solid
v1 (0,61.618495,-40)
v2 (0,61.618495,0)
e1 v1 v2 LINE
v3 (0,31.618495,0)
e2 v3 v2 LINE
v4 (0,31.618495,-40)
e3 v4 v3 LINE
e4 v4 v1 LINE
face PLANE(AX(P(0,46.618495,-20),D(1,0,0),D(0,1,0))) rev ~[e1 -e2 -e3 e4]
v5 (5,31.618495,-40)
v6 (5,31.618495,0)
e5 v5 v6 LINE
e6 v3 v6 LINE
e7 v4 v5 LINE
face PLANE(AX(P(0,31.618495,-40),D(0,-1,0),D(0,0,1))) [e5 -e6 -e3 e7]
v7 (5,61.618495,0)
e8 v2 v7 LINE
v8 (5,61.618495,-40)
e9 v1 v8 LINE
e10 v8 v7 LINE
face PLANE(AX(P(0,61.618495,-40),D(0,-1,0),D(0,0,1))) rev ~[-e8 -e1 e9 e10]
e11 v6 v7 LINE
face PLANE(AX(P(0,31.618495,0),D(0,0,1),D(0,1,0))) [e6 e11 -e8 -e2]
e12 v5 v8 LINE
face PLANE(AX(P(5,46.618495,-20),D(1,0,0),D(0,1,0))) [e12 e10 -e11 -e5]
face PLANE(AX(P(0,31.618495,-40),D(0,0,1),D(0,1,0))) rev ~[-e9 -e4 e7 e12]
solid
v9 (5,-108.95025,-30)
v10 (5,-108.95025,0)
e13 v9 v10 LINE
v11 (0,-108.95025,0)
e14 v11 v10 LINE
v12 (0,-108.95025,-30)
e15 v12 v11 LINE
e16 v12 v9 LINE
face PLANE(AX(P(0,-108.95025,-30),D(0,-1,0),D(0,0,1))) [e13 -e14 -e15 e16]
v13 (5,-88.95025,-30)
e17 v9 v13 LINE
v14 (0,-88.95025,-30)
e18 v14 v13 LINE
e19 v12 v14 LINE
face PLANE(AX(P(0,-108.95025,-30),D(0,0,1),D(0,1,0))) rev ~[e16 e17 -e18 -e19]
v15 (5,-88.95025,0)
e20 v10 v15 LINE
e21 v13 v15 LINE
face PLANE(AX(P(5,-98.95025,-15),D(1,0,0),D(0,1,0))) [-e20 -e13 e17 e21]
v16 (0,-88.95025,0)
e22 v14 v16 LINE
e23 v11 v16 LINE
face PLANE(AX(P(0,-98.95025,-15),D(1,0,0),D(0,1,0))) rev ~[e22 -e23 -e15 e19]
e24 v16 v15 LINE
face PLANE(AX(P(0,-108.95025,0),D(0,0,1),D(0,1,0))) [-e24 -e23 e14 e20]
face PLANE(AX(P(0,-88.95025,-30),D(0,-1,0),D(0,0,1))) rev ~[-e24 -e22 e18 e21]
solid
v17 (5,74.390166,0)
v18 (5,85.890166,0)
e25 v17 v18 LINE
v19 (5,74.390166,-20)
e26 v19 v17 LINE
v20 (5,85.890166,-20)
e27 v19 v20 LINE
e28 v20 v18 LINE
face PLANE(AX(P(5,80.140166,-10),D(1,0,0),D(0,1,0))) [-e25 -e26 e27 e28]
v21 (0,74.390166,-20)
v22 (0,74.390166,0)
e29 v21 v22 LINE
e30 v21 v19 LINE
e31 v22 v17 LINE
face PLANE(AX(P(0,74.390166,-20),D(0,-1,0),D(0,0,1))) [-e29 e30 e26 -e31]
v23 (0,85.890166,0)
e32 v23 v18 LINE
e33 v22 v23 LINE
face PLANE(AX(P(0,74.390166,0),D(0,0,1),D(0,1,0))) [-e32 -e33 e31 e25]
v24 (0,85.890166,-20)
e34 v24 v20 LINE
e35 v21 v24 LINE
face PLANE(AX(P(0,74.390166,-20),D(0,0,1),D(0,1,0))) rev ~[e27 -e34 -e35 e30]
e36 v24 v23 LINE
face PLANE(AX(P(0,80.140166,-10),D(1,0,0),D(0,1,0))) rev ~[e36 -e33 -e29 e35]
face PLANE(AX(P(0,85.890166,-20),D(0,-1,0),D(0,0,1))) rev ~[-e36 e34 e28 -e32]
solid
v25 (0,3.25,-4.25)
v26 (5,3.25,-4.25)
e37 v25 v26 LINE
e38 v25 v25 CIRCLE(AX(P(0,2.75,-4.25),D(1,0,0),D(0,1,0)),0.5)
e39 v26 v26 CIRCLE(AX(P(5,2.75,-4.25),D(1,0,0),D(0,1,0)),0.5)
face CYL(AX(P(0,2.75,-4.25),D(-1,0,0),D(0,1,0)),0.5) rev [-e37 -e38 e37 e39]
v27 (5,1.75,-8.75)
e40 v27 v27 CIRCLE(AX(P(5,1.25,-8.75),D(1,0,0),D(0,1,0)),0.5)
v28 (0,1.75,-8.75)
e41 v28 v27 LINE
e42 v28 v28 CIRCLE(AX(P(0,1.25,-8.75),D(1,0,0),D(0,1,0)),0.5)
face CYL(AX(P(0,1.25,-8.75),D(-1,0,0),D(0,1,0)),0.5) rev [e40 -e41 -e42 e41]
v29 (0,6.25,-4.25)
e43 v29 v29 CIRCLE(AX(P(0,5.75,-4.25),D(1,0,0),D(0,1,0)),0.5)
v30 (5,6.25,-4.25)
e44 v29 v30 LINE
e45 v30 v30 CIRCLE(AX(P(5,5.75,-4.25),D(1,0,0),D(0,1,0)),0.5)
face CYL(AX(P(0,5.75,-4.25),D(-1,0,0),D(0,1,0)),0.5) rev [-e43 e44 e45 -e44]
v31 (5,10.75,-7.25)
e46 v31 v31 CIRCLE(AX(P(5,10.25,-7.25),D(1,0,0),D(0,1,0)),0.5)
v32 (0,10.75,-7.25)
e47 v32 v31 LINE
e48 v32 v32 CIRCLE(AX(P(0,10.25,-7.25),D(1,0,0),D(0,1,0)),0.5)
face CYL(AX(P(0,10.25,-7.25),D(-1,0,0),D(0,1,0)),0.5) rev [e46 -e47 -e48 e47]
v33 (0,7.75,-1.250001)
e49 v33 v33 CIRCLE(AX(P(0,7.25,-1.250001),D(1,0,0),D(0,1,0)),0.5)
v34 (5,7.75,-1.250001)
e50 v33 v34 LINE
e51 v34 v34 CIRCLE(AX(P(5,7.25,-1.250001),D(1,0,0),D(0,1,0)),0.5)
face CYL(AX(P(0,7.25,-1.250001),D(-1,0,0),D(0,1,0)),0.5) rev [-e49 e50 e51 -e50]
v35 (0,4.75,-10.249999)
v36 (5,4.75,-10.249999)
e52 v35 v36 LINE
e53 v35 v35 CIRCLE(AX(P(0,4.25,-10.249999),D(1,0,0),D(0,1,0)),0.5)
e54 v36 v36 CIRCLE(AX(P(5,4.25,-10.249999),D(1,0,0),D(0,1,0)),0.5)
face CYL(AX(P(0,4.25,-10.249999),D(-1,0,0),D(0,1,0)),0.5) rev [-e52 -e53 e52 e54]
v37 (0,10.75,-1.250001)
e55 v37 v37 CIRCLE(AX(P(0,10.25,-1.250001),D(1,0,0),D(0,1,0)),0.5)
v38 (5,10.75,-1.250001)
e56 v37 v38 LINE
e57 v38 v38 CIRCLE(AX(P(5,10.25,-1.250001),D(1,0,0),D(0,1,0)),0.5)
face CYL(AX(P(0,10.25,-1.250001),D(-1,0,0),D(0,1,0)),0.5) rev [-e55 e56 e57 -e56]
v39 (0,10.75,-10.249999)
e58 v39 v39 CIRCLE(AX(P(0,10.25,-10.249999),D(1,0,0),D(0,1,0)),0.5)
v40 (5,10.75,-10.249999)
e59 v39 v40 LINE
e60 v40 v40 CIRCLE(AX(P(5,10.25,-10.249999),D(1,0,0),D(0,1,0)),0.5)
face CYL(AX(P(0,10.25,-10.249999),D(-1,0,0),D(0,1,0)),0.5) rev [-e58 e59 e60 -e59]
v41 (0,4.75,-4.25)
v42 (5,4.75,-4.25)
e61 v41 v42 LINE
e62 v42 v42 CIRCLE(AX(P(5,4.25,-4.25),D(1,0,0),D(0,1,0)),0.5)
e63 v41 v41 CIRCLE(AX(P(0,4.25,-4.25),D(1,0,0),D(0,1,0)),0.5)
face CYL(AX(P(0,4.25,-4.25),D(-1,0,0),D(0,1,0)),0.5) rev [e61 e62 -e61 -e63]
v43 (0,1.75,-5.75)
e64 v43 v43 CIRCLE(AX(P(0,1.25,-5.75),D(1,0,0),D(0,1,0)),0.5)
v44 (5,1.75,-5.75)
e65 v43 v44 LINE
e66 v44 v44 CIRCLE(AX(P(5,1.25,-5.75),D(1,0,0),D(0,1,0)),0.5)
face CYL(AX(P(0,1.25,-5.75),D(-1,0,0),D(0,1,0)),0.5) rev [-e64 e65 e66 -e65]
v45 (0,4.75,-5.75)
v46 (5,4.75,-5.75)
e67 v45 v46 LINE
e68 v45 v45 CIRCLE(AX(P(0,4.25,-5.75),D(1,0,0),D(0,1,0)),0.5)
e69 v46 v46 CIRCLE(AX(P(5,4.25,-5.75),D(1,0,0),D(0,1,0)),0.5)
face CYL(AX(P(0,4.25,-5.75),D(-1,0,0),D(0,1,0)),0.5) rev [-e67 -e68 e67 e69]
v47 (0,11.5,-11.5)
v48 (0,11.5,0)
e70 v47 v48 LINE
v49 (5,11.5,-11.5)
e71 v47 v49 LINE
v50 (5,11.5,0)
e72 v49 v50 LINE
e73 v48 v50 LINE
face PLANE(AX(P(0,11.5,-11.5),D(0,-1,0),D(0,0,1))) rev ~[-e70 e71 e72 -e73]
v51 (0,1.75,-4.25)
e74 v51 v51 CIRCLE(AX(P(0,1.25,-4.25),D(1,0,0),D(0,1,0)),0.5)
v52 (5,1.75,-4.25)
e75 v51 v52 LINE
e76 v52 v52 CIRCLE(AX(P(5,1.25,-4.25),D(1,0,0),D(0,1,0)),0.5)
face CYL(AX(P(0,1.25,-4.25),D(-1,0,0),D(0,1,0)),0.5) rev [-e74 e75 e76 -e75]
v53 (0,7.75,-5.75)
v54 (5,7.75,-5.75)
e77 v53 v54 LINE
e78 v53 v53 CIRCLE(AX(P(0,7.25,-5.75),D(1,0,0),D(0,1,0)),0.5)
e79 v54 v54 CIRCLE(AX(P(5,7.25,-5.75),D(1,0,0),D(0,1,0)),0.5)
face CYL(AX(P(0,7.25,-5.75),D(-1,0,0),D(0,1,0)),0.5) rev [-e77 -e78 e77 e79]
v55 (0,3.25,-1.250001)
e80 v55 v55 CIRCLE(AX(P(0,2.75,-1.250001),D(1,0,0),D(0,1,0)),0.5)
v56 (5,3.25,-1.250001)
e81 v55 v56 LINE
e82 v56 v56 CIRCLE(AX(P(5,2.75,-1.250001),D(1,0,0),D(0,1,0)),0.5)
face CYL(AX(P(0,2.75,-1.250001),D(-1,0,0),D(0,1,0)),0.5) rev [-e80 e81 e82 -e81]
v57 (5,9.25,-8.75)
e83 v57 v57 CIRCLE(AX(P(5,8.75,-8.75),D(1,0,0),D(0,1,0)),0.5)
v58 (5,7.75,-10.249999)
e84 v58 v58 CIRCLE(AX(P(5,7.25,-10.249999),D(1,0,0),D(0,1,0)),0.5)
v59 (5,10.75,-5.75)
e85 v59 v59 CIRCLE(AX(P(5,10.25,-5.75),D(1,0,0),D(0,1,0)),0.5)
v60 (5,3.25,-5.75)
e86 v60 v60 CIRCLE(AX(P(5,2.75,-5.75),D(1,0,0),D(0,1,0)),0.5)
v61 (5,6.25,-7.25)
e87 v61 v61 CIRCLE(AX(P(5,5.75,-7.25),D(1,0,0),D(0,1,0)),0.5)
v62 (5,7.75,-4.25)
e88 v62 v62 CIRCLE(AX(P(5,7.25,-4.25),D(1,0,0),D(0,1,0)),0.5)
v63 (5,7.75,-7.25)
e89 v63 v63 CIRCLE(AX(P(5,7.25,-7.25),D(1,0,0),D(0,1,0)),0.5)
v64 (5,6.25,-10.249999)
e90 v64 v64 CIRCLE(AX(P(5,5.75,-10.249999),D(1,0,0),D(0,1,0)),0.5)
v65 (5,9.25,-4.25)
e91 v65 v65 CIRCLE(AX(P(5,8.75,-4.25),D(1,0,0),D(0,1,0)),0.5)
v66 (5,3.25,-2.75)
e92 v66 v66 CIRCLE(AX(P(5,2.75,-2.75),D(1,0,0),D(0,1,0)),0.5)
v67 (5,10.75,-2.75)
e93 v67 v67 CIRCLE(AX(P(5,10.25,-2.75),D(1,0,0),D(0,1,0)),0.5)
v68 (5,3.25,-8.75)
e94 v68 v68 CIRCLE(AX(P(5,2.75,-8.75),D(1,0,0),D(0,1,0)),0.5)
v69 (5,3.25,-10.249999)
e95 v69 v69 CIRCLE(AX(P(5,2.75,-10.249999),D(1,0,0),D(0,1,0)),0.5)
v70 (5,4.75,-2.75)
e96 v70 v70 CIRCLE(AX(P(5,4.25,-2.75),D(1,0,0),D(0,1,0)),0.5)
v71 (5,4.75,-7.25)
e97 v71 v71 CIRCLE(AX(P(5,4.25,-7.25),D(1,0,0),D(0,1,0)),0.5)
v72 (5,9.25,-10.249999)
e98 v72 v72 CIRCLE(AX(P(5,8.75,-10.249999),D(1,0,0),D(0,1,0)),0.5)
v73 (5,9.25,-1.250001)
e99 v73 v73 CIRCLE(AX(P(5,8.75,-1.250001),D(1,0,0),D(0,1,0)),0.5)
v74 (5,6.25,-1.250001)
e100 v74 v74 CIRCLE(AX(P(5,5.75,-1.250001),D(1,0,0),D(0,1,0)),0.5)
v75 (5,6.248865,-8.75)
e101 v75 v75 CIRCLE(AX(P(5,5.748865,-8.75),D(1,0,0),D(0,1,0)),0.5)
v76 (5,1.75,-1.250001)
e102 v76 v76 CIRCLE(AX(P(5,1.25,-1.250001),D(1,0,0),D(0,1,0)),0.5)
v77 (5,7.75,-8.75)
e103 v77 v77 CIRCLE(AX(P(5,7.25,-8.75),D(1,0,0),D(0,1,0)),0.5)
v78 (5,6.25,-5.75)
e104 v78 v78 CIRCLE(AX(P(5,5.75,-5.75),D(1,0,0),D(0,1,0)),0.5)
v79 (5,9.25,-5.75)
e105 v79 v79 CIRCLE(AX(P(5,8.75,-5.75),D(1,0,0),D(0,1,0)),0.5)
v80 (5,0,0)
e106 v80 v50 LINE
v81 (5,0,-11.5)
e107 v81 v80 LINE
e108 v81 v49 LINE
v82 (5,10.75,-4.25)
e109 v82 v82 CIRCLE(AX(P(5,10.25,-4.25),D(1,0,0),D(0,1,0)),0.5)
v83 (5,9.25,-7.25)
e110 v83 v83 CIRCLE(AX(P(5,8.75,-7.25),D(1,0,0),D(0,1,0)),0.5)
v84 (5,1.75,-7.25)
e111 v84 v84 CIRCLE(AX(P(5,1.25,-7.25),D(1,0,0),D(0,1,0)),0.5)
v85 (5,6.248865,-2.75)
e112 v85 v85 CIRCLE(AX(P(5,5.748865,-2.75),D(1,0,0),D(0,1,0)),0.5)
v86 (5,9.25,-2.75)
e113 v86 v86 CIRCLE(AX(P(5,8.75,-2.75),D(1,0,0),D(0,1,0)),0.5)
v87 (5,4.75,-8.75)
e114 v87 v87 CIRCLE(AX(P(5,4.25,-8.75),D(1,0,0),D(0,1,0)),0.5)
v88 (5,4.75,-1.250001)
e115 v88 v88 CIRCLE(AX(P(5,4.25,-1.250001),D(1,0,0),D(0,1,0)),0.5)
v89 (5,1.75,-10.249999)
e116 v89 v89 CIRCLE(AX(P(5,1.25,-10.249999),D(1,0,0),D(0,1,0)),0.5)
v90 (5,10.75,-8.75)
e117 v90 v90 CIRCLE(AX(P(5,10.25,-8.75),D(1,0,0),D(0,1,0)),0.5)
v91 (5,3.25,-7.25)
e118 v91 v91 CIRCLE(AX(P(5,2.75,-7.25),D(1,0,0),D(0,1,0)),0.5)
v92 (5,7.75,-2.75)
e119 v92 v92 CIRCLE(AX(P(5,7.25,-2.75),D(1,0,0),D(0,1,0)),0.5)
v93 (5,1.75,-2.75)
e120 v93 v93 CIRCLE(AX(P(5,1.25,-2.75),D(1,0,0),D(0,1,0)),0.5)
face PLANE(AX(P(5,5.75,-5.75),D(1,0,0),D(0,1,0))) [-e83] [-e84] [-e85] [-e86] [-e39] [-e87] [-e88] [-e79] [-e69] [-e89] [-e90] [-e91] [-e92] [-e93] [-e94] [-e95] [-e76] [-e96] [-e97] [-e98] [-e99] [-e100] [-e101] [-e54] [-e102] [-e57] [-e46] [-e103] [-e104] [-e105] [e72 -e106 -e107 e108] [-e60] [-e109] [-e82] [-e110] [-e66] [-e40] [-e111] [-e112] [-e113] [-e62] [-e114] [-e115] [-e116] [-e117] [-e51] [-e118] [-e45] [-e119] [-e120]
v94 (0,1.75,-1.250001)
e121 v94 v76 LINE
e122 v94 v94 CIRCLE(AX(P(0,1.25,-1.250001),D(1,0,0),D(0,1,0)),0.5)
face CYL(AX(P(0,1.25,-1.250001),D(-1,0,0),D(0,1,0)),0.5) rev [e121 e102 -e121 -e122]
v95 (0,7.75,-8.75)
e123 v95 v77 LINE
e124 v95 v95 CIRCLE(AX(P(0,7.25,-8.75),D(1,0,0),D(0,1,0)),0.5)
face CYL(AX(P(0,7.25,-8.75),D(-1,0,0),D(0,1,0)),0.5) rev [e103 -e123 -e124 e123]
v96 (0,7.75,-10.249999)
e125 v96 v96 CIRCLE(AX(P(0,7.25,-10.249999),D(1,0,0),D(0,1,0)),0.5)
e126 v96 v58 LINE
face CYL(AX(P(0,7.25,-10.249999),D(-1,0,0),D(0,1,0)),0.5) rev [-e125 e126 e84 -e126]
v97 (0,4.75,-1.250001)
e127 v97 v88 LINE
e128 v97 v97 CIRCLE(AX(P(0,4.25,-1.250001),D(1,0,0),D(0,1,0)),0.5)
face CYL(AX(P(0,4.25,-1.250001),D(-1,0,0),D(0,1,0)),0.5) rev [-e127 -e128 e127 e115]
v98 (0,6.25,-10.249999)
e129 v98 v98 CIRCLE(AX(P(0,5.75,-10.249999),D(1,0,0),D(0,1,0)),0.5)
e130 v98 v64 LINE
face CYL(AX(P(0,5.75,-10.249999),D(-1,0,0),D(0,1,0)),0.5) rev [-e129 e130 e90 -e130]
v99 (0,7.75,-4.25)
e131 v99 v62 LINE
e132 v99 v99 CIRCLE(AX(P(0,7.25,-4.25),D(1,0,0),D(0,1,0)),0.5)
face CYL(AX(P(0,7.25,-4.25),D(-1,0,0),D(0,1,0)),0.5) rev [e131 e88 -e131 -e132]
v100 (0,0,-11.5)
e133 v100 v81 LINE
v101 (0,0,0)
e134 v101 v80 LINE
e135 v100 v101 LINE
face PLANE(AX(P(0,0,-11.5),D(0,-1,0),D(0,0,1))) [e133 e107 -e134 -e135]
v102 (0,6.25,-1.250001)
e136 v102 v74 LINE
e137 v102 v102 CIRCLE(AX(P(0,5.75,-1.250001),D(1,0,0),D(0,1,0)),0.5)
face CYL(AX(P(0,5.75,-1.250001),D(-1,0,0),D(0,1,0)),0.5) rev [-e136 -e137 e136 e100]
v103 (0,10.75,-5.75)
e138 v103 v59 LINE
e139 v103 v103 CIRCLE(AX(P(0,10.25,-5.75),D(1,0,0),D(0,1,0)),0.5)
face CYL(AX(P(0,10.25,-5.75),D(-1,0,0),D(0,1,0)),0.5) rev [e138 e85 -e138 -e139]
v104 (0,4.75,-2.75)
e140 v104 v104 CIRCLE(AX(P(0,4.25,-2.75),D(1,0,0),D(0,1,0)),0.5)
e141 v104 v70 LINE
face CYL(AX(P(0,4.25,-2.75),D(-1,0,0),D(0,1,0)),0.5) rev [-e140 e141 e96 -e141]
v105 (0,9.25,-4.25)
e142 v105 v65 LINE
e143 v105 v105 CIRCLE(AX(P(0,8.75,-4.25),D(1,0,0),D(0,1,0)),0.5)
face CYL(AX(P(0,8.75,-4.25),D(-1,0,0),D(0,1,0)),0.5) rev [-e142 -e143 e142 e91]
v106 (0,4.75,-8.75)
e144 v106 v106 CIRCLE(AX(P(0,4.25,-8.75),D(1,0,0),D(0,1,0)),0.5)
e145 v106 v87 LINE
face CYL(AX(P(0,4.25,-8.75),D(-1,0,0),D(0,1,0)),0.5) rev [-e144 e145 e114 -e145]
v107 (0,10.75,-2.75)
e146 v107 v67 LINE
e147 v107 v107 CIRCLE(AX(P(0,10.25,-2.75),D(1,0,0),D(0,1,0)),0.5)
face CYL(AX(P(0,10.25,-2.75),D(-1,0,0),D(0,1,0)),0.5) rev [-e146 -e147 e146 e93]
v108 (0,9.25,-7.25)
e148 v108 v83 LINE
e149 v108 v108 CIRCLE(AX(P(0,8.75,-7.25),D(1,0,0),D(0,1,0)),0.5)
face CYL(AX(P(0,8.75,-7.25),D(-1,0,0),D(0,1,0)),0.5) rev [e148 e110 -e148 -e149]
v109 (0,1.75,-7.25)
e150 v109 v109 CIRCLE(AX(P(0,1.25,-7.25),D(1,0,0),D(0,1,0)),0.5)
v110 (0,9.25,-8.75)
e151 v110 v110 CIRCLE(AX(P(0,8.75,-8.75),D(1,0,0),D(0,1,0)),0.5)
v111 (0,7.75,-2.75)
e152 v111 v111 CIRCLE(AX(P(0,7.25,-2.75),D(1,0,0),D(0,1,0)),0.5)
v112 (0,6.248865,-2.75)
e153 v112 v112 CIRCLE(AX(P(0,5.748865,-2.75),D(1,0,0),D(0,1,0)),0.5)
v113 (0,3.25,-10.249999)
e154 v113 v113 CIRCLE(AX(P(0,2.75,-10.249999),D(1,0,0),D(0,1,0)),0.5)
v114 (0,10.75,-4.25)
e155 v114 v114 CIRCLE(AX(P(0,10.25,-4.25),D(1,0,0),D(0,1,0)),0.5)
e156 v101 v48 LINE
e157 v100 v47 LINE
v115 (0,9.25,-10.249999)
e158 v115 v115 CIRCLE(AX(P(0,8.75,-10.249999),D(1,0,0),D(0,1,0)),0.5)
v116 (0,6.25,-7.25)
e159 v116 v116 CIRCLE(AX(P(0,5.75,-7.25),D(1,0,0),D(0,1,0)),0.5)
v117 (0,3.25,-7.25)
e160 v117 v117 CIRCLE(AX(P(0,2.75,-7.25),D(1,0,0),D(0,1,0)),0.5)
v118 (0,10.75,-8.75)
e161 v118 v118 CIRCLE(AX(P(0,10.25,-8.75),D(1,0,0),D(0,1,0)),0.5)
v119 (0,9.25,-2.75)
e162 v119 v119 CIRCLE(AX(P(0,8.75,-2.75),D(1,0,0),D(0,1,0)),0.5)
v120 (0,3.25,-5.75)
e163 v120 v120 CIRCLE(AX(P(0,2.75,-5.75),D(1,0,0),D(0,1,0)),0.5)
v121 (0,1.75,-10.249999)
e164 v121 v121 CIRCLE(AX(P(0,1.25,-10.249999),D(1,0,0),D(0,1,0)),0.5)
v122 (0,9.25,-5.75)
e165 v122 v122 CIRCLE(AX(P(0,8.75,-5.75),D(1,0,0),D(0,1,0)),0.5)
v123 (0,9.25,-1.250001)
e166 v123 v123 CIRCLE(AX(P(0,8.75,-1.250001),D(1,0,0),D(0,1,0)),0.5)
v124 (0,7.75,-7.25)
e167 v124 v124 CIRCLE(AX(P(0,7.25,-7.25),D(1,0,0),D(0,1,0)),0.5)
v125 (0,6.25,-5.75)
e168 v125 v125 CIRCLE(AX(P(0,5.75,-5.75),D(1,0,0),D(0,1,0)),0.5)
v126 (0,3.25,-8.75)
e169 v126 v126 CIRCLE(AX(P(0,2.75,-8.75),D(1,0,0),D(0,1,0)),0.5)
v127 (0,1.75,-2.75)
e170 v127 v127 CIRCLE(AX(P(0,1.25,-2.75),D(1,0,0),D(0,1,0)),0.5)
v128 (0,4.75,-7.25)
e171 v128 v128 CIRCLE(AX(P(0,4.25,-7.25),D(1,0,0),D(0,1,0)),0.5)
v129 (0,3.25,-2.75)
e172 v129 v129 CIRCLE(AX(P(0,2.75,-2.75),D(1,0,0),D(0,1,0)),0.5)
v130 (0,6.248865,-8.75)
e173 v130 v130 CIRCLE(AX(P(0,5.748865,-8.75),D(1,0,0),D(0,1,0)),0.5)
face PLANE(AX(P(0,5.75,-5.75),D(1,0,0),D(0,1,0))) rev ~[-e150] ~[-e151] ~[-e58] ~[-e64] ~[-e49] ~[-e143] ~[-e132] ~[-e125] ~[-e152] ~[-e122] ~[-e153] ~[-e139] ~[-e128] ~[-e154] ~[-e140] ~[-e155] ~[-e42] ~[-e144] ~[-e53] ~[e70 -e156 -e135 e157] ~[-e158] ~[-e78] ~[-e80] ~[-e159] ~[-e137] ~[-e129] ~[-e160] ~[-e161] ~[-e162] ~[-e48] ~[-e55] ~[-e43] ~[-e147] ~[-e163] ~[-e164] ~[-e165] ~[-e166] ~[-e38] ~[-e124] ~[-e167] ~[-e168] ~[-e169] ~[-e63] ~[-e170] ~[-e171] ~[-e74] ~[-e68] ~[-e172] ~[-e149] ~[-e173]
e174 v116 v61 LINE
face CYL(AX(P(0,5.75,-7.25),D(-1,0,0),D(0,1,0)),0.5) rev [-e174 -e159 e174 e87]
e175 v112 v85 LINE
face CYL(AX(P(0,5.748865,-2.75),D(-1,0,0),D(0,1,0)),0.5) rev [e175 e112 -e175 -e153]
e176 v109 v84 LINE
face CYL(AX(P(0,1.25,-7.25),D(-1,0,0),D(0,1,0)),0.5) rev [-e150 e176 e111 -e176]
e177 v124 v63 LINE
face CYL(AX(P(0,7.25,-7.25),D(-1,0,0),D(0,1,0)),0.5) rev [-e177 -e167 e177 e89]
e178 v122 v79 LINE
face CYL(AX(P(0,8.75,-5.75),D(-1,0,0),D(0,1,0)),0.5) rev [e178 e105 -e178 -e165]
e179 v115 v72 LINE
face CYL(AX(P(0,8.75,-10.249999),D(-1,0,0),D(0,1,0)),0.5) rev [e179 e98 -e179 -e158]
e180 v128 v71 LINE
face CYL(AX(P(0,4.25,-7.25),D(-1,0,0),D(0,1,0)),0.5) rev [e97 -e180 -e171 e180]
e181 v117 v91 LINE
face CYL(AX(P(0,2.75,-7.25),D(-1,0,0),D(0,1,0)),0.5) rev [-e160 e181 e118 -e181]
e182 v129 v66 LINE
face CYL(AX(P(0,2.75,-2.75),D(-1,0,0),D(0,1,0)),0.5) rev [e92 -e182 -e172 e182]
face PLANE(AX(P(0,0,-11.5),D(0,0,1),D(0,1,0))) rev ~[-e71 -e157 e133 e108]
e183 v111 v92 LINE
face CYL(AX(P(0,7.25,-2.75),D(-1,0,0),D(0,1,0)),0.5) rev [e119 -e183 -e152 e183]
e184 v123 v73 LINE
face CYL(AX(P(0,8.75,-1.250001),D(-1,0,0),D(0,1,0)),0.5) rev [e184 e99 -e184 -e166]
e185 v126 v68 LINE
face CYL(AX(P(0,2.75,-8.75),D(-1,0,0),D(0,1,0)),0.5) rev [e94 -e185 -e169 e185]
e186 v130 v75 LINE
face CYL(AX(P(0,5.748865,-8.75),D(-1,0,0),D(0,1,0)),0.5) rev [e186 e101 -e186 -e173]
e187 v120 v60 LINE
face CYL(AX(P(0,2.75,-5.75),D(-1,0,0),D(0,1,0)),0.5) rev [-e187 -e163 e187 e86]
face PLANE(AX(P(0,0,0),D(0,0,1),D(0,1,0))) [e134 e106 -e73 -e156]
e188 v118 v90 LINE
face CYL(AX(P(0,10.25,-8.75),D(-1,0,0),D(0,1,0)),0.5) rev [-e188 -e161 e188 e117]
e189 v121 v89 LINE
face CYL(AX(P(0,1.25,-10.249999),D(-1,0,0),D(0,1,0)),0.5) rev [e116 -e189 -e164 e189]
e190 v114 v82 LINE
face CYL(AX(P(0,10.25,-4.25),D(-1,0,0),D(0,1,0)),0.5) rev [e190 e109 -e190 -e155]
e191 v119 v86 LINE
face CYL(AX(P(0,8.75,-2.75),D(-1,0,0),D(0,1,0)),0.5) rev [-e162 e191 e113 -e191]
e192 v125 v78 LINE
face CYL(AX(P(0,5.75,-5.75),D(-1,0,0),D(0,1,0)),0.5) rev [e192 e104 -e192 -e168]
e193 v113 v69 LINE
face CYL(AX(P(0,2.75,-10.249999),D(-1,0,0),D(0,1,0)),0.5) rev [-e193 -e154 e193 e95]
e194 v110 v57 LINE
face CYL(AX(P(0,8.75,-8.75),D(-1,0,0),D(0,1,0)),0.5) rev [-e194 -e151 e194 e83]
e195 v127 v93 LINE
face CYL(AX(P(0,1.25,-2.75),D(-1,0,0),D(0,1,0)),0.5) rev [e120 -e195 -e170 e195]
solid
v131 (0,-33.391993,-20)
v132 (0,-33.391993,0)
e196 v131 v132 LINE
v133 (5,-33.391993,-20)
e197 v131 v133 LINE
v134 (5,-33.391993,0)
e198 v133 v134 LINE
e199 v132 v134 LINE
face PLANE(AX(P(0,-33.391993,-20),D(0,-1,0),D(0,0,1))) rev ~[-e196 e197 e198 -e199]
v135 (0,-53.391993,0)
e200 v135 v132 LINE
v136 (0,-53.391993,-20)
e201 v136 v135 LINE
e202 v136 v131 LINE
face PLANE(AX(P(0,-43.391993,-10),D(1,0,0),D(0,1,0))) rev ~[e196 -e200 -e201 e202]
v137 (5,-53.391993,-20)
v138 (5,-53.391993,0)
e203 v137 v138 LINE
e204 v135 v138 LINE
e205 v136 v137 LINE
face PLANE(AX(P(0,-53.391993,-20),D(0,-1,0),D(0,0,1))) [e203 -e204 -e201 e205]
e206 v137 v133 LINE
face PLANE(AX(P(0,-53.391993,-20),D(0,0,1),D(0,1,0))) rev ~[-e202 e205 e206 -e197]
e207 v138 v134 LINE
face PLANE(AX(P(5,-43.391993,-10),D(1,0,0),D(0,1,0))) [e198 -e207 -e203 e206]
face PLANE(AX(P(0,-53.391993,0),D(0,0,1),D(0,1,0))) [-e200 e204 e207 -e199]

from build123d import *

# Parameters (mm, degrees)
F0_W     = 11.5
F0_H     = 11.5
F0_R     = 0.5
F0_W_2   = 30
F0_H_2   = 40
F0_W_3   = 20
F0_H_3   = 30
F0_H_4   = 20
F1_DEPTH = 5


with BuildPart() as f1:
    # F0 (on Right) → F1 (new body)
    with BuildSketch(Plane.YZ):
        with Locations((5.75, -5.75)):
            Rectangle(F0_W, F0_H)
        with Locations((1.25, -10.249999)):
            Circle(F0_R, mode=Mode.SUBTRACT)
        with Locations((2.75, -10.249999)):
            Circle(F0_R, mode=Mode.SUBTRACT)
        with Locations((4.25, -10.249999)):
            Circle(F0_R, mode=Mode.SUBTRACT)
        with Locations((5.75, -10.249999)):
            Circle(F0_R, mode=Mode.SUBTRACT)
        with Locations((7.25, -10.249999)):
            Circle(F0_R, mode=Mode.SUBTRACT)
        with Locations((8.75, -10.249999)):
            Circle(F0_R, mode=Mode.SUBTRACT)
        with Locations((10.25, -10.249999)):
            Circle(F0_R, mode=Mode.SUBTRACT)
        with Locations((1.25, -8.75)):
            Circle(F0_R, mode=Mode.SUBTRACT)
        with Locations((2.75, -8.75)):
            Circle(F0_R, mode=Mode.SUBTRACT)
        with Locations((4.25, -8.75)):
            Circle(F0_R, mode=Mode.SUBTRACT)
        with Locations((5.748865, -8.75)):
            Circle(F0_R, mode=Mode.SUBTRACT)
        with Locations((7.25, -8.75)):
            Circle(F0_R, mode=Mode.SUBTRACT)
        with Locations((8.75, -8.75)):
            Circle(F0_R, mode=Mode.SUBTRACT)
        with Locations((10.25, -8.75)):
            Circle(F0_R, mode=Mode.SUBTRACT)
        with Locations((1.25, -7.25)):
            Circle(F0_R, mode=Mode.SUBTRACT)
        with Locations((2.75, -7.25)):
            Circle(F0_R, mode=Mode.SUBTRACT)
        with Locations((4.25, -7.25)):
            Circle(F0_R, mode=Mode.SUBTRACT)
        with Locations((5.75, -7.25)):
            Circle(F0_R, mode=Mode.SUBTRACT)
        with Locations((7.25, -7.25)):
            Circle(F0_R, mode=Mode.SUBTRACT)
        with Locations((8.75, -7.25)):
            Circle(F0_R, mode=Mode.SUBTRACT)
        with Locations((10.25, -7.25)):
            Circle(F0_R, mode=Mode.SUBTRACT)
        with Locations((1.25, -5.75)):
            Circle(F0_R, mode=Mode.SUBTRACT)
        with Locations((2.75, -5.75)):
            Circle(F0_R, mode=Mode.SUBTRACT)
        with Locations((4.25, -5.75)):
            Circle(F0_R, mode=Mode.SUBTRACT)
        with Locations((5.75, -5.75)):
            Circle(F0_R, mode=Mode.SUBTRACT)
        with Locations((7.25, -5.75)):
            Circle(F0_R, mode=Mode.SUBTRACT)
        with Locations((8.75, -5.75)):
            Circle(F0_R, mode=Mode.SUBTRACT)
        with Locations((10.25, -5.75)):
            Circle(F0_R, mode=Mode.SUBTRACT)
        with Locations((1.25, -4.25)):
            Circle(F0_R, mode=Mode.SUBTRACT)
        with Locations((2.75, -4.25)):
            Circle(F0_R, mode=Mode.SUBTRACT)
        with Locations((4.25, -4.25)):
            Circle(F0_R, mode=Mode.SUBTRACT)
        with Locations((5.75, -4.25)):
            Circle(F0_R, mode=Mode.SUBTRACT)
        with Locations((7.25, -4.25)):
            Circle(F0_R, mode=Mode.SUBTRACT)
        with Locations((8.75, -4.25)):
            Circle(F0_R, mode=Mode.SUBTRACT)
        with Locations((10.25, -4.25)):
            Circle(F0_R, mode=Mode.SUBTRACT)
        with Locations((1.25, -2.75)):
            Circle(F0_R, mode=Mode.SUBTRACT)
        with Locations((2.75, -2.75)):
            Circle(F0_R, mode=Mode.SUBTRACT)
        with Locations((4.25, -2.75)):
            Circle(F0_R, mode=Mode.SUBTRACT)
        with Locations((5.748865, -2.75)):
            Circle(F0_R, mode=Mode.SUBTRACT)
        with Locations((7.25, -2.75)):
            Circle(F0_R, mode=Mode.SUBTRACT)
        with Locations((8.75, -2.75)):
            Circle(F0_R, mode=Mode.SUBTRACT)
        with Locations((10.25, -2.75)):
            Circle(F0_R, mode=Mode.SUBTRACT)
        with Locations((1.25, -1.250001)):
            Circle(F0_R, mode=Mode.SUBTRACT)
        with Locations((2.75, -1.250001)):
            Circle(F0_R, mode=Mode.SUBTRACT)
        with Locations((4.25, -1.250001)):
            Circle(F0_R, mode=Mode.SUBTRACT)
        with Locations((5.75, -1.250001)):
            Circle(F0_R, mode=Mode.SUBTRACT)
        with Locations((7.25, -1.250001)):
            Circle(F0_R, mode=Mode.SUBTRACT)
        with Locations((8.75, -1.250001)):
            Circle(F0_R, mode=Mode.SUBTRACT)
        with Locations((10.25, -1.250001)):
            Circle(F0_R, mode=Mode.SUBTRACT)
        with Locations((46.618495, -20)):
            Rectangle(F0_W_2, F0_H_2)
        with Locations((-98.95025, -15)):
            Rectangle(F0_W_3, F0_H_3)
        with Locations((-43.391993, -10)):
            Rectangle(F0_W_3, F0_H_4)
        with Locations((80.140166, -10)):
            Rectangle(F0_W, F0_H_4)
    extrude(amount=F1_DEPTH)


solid = f1.part
